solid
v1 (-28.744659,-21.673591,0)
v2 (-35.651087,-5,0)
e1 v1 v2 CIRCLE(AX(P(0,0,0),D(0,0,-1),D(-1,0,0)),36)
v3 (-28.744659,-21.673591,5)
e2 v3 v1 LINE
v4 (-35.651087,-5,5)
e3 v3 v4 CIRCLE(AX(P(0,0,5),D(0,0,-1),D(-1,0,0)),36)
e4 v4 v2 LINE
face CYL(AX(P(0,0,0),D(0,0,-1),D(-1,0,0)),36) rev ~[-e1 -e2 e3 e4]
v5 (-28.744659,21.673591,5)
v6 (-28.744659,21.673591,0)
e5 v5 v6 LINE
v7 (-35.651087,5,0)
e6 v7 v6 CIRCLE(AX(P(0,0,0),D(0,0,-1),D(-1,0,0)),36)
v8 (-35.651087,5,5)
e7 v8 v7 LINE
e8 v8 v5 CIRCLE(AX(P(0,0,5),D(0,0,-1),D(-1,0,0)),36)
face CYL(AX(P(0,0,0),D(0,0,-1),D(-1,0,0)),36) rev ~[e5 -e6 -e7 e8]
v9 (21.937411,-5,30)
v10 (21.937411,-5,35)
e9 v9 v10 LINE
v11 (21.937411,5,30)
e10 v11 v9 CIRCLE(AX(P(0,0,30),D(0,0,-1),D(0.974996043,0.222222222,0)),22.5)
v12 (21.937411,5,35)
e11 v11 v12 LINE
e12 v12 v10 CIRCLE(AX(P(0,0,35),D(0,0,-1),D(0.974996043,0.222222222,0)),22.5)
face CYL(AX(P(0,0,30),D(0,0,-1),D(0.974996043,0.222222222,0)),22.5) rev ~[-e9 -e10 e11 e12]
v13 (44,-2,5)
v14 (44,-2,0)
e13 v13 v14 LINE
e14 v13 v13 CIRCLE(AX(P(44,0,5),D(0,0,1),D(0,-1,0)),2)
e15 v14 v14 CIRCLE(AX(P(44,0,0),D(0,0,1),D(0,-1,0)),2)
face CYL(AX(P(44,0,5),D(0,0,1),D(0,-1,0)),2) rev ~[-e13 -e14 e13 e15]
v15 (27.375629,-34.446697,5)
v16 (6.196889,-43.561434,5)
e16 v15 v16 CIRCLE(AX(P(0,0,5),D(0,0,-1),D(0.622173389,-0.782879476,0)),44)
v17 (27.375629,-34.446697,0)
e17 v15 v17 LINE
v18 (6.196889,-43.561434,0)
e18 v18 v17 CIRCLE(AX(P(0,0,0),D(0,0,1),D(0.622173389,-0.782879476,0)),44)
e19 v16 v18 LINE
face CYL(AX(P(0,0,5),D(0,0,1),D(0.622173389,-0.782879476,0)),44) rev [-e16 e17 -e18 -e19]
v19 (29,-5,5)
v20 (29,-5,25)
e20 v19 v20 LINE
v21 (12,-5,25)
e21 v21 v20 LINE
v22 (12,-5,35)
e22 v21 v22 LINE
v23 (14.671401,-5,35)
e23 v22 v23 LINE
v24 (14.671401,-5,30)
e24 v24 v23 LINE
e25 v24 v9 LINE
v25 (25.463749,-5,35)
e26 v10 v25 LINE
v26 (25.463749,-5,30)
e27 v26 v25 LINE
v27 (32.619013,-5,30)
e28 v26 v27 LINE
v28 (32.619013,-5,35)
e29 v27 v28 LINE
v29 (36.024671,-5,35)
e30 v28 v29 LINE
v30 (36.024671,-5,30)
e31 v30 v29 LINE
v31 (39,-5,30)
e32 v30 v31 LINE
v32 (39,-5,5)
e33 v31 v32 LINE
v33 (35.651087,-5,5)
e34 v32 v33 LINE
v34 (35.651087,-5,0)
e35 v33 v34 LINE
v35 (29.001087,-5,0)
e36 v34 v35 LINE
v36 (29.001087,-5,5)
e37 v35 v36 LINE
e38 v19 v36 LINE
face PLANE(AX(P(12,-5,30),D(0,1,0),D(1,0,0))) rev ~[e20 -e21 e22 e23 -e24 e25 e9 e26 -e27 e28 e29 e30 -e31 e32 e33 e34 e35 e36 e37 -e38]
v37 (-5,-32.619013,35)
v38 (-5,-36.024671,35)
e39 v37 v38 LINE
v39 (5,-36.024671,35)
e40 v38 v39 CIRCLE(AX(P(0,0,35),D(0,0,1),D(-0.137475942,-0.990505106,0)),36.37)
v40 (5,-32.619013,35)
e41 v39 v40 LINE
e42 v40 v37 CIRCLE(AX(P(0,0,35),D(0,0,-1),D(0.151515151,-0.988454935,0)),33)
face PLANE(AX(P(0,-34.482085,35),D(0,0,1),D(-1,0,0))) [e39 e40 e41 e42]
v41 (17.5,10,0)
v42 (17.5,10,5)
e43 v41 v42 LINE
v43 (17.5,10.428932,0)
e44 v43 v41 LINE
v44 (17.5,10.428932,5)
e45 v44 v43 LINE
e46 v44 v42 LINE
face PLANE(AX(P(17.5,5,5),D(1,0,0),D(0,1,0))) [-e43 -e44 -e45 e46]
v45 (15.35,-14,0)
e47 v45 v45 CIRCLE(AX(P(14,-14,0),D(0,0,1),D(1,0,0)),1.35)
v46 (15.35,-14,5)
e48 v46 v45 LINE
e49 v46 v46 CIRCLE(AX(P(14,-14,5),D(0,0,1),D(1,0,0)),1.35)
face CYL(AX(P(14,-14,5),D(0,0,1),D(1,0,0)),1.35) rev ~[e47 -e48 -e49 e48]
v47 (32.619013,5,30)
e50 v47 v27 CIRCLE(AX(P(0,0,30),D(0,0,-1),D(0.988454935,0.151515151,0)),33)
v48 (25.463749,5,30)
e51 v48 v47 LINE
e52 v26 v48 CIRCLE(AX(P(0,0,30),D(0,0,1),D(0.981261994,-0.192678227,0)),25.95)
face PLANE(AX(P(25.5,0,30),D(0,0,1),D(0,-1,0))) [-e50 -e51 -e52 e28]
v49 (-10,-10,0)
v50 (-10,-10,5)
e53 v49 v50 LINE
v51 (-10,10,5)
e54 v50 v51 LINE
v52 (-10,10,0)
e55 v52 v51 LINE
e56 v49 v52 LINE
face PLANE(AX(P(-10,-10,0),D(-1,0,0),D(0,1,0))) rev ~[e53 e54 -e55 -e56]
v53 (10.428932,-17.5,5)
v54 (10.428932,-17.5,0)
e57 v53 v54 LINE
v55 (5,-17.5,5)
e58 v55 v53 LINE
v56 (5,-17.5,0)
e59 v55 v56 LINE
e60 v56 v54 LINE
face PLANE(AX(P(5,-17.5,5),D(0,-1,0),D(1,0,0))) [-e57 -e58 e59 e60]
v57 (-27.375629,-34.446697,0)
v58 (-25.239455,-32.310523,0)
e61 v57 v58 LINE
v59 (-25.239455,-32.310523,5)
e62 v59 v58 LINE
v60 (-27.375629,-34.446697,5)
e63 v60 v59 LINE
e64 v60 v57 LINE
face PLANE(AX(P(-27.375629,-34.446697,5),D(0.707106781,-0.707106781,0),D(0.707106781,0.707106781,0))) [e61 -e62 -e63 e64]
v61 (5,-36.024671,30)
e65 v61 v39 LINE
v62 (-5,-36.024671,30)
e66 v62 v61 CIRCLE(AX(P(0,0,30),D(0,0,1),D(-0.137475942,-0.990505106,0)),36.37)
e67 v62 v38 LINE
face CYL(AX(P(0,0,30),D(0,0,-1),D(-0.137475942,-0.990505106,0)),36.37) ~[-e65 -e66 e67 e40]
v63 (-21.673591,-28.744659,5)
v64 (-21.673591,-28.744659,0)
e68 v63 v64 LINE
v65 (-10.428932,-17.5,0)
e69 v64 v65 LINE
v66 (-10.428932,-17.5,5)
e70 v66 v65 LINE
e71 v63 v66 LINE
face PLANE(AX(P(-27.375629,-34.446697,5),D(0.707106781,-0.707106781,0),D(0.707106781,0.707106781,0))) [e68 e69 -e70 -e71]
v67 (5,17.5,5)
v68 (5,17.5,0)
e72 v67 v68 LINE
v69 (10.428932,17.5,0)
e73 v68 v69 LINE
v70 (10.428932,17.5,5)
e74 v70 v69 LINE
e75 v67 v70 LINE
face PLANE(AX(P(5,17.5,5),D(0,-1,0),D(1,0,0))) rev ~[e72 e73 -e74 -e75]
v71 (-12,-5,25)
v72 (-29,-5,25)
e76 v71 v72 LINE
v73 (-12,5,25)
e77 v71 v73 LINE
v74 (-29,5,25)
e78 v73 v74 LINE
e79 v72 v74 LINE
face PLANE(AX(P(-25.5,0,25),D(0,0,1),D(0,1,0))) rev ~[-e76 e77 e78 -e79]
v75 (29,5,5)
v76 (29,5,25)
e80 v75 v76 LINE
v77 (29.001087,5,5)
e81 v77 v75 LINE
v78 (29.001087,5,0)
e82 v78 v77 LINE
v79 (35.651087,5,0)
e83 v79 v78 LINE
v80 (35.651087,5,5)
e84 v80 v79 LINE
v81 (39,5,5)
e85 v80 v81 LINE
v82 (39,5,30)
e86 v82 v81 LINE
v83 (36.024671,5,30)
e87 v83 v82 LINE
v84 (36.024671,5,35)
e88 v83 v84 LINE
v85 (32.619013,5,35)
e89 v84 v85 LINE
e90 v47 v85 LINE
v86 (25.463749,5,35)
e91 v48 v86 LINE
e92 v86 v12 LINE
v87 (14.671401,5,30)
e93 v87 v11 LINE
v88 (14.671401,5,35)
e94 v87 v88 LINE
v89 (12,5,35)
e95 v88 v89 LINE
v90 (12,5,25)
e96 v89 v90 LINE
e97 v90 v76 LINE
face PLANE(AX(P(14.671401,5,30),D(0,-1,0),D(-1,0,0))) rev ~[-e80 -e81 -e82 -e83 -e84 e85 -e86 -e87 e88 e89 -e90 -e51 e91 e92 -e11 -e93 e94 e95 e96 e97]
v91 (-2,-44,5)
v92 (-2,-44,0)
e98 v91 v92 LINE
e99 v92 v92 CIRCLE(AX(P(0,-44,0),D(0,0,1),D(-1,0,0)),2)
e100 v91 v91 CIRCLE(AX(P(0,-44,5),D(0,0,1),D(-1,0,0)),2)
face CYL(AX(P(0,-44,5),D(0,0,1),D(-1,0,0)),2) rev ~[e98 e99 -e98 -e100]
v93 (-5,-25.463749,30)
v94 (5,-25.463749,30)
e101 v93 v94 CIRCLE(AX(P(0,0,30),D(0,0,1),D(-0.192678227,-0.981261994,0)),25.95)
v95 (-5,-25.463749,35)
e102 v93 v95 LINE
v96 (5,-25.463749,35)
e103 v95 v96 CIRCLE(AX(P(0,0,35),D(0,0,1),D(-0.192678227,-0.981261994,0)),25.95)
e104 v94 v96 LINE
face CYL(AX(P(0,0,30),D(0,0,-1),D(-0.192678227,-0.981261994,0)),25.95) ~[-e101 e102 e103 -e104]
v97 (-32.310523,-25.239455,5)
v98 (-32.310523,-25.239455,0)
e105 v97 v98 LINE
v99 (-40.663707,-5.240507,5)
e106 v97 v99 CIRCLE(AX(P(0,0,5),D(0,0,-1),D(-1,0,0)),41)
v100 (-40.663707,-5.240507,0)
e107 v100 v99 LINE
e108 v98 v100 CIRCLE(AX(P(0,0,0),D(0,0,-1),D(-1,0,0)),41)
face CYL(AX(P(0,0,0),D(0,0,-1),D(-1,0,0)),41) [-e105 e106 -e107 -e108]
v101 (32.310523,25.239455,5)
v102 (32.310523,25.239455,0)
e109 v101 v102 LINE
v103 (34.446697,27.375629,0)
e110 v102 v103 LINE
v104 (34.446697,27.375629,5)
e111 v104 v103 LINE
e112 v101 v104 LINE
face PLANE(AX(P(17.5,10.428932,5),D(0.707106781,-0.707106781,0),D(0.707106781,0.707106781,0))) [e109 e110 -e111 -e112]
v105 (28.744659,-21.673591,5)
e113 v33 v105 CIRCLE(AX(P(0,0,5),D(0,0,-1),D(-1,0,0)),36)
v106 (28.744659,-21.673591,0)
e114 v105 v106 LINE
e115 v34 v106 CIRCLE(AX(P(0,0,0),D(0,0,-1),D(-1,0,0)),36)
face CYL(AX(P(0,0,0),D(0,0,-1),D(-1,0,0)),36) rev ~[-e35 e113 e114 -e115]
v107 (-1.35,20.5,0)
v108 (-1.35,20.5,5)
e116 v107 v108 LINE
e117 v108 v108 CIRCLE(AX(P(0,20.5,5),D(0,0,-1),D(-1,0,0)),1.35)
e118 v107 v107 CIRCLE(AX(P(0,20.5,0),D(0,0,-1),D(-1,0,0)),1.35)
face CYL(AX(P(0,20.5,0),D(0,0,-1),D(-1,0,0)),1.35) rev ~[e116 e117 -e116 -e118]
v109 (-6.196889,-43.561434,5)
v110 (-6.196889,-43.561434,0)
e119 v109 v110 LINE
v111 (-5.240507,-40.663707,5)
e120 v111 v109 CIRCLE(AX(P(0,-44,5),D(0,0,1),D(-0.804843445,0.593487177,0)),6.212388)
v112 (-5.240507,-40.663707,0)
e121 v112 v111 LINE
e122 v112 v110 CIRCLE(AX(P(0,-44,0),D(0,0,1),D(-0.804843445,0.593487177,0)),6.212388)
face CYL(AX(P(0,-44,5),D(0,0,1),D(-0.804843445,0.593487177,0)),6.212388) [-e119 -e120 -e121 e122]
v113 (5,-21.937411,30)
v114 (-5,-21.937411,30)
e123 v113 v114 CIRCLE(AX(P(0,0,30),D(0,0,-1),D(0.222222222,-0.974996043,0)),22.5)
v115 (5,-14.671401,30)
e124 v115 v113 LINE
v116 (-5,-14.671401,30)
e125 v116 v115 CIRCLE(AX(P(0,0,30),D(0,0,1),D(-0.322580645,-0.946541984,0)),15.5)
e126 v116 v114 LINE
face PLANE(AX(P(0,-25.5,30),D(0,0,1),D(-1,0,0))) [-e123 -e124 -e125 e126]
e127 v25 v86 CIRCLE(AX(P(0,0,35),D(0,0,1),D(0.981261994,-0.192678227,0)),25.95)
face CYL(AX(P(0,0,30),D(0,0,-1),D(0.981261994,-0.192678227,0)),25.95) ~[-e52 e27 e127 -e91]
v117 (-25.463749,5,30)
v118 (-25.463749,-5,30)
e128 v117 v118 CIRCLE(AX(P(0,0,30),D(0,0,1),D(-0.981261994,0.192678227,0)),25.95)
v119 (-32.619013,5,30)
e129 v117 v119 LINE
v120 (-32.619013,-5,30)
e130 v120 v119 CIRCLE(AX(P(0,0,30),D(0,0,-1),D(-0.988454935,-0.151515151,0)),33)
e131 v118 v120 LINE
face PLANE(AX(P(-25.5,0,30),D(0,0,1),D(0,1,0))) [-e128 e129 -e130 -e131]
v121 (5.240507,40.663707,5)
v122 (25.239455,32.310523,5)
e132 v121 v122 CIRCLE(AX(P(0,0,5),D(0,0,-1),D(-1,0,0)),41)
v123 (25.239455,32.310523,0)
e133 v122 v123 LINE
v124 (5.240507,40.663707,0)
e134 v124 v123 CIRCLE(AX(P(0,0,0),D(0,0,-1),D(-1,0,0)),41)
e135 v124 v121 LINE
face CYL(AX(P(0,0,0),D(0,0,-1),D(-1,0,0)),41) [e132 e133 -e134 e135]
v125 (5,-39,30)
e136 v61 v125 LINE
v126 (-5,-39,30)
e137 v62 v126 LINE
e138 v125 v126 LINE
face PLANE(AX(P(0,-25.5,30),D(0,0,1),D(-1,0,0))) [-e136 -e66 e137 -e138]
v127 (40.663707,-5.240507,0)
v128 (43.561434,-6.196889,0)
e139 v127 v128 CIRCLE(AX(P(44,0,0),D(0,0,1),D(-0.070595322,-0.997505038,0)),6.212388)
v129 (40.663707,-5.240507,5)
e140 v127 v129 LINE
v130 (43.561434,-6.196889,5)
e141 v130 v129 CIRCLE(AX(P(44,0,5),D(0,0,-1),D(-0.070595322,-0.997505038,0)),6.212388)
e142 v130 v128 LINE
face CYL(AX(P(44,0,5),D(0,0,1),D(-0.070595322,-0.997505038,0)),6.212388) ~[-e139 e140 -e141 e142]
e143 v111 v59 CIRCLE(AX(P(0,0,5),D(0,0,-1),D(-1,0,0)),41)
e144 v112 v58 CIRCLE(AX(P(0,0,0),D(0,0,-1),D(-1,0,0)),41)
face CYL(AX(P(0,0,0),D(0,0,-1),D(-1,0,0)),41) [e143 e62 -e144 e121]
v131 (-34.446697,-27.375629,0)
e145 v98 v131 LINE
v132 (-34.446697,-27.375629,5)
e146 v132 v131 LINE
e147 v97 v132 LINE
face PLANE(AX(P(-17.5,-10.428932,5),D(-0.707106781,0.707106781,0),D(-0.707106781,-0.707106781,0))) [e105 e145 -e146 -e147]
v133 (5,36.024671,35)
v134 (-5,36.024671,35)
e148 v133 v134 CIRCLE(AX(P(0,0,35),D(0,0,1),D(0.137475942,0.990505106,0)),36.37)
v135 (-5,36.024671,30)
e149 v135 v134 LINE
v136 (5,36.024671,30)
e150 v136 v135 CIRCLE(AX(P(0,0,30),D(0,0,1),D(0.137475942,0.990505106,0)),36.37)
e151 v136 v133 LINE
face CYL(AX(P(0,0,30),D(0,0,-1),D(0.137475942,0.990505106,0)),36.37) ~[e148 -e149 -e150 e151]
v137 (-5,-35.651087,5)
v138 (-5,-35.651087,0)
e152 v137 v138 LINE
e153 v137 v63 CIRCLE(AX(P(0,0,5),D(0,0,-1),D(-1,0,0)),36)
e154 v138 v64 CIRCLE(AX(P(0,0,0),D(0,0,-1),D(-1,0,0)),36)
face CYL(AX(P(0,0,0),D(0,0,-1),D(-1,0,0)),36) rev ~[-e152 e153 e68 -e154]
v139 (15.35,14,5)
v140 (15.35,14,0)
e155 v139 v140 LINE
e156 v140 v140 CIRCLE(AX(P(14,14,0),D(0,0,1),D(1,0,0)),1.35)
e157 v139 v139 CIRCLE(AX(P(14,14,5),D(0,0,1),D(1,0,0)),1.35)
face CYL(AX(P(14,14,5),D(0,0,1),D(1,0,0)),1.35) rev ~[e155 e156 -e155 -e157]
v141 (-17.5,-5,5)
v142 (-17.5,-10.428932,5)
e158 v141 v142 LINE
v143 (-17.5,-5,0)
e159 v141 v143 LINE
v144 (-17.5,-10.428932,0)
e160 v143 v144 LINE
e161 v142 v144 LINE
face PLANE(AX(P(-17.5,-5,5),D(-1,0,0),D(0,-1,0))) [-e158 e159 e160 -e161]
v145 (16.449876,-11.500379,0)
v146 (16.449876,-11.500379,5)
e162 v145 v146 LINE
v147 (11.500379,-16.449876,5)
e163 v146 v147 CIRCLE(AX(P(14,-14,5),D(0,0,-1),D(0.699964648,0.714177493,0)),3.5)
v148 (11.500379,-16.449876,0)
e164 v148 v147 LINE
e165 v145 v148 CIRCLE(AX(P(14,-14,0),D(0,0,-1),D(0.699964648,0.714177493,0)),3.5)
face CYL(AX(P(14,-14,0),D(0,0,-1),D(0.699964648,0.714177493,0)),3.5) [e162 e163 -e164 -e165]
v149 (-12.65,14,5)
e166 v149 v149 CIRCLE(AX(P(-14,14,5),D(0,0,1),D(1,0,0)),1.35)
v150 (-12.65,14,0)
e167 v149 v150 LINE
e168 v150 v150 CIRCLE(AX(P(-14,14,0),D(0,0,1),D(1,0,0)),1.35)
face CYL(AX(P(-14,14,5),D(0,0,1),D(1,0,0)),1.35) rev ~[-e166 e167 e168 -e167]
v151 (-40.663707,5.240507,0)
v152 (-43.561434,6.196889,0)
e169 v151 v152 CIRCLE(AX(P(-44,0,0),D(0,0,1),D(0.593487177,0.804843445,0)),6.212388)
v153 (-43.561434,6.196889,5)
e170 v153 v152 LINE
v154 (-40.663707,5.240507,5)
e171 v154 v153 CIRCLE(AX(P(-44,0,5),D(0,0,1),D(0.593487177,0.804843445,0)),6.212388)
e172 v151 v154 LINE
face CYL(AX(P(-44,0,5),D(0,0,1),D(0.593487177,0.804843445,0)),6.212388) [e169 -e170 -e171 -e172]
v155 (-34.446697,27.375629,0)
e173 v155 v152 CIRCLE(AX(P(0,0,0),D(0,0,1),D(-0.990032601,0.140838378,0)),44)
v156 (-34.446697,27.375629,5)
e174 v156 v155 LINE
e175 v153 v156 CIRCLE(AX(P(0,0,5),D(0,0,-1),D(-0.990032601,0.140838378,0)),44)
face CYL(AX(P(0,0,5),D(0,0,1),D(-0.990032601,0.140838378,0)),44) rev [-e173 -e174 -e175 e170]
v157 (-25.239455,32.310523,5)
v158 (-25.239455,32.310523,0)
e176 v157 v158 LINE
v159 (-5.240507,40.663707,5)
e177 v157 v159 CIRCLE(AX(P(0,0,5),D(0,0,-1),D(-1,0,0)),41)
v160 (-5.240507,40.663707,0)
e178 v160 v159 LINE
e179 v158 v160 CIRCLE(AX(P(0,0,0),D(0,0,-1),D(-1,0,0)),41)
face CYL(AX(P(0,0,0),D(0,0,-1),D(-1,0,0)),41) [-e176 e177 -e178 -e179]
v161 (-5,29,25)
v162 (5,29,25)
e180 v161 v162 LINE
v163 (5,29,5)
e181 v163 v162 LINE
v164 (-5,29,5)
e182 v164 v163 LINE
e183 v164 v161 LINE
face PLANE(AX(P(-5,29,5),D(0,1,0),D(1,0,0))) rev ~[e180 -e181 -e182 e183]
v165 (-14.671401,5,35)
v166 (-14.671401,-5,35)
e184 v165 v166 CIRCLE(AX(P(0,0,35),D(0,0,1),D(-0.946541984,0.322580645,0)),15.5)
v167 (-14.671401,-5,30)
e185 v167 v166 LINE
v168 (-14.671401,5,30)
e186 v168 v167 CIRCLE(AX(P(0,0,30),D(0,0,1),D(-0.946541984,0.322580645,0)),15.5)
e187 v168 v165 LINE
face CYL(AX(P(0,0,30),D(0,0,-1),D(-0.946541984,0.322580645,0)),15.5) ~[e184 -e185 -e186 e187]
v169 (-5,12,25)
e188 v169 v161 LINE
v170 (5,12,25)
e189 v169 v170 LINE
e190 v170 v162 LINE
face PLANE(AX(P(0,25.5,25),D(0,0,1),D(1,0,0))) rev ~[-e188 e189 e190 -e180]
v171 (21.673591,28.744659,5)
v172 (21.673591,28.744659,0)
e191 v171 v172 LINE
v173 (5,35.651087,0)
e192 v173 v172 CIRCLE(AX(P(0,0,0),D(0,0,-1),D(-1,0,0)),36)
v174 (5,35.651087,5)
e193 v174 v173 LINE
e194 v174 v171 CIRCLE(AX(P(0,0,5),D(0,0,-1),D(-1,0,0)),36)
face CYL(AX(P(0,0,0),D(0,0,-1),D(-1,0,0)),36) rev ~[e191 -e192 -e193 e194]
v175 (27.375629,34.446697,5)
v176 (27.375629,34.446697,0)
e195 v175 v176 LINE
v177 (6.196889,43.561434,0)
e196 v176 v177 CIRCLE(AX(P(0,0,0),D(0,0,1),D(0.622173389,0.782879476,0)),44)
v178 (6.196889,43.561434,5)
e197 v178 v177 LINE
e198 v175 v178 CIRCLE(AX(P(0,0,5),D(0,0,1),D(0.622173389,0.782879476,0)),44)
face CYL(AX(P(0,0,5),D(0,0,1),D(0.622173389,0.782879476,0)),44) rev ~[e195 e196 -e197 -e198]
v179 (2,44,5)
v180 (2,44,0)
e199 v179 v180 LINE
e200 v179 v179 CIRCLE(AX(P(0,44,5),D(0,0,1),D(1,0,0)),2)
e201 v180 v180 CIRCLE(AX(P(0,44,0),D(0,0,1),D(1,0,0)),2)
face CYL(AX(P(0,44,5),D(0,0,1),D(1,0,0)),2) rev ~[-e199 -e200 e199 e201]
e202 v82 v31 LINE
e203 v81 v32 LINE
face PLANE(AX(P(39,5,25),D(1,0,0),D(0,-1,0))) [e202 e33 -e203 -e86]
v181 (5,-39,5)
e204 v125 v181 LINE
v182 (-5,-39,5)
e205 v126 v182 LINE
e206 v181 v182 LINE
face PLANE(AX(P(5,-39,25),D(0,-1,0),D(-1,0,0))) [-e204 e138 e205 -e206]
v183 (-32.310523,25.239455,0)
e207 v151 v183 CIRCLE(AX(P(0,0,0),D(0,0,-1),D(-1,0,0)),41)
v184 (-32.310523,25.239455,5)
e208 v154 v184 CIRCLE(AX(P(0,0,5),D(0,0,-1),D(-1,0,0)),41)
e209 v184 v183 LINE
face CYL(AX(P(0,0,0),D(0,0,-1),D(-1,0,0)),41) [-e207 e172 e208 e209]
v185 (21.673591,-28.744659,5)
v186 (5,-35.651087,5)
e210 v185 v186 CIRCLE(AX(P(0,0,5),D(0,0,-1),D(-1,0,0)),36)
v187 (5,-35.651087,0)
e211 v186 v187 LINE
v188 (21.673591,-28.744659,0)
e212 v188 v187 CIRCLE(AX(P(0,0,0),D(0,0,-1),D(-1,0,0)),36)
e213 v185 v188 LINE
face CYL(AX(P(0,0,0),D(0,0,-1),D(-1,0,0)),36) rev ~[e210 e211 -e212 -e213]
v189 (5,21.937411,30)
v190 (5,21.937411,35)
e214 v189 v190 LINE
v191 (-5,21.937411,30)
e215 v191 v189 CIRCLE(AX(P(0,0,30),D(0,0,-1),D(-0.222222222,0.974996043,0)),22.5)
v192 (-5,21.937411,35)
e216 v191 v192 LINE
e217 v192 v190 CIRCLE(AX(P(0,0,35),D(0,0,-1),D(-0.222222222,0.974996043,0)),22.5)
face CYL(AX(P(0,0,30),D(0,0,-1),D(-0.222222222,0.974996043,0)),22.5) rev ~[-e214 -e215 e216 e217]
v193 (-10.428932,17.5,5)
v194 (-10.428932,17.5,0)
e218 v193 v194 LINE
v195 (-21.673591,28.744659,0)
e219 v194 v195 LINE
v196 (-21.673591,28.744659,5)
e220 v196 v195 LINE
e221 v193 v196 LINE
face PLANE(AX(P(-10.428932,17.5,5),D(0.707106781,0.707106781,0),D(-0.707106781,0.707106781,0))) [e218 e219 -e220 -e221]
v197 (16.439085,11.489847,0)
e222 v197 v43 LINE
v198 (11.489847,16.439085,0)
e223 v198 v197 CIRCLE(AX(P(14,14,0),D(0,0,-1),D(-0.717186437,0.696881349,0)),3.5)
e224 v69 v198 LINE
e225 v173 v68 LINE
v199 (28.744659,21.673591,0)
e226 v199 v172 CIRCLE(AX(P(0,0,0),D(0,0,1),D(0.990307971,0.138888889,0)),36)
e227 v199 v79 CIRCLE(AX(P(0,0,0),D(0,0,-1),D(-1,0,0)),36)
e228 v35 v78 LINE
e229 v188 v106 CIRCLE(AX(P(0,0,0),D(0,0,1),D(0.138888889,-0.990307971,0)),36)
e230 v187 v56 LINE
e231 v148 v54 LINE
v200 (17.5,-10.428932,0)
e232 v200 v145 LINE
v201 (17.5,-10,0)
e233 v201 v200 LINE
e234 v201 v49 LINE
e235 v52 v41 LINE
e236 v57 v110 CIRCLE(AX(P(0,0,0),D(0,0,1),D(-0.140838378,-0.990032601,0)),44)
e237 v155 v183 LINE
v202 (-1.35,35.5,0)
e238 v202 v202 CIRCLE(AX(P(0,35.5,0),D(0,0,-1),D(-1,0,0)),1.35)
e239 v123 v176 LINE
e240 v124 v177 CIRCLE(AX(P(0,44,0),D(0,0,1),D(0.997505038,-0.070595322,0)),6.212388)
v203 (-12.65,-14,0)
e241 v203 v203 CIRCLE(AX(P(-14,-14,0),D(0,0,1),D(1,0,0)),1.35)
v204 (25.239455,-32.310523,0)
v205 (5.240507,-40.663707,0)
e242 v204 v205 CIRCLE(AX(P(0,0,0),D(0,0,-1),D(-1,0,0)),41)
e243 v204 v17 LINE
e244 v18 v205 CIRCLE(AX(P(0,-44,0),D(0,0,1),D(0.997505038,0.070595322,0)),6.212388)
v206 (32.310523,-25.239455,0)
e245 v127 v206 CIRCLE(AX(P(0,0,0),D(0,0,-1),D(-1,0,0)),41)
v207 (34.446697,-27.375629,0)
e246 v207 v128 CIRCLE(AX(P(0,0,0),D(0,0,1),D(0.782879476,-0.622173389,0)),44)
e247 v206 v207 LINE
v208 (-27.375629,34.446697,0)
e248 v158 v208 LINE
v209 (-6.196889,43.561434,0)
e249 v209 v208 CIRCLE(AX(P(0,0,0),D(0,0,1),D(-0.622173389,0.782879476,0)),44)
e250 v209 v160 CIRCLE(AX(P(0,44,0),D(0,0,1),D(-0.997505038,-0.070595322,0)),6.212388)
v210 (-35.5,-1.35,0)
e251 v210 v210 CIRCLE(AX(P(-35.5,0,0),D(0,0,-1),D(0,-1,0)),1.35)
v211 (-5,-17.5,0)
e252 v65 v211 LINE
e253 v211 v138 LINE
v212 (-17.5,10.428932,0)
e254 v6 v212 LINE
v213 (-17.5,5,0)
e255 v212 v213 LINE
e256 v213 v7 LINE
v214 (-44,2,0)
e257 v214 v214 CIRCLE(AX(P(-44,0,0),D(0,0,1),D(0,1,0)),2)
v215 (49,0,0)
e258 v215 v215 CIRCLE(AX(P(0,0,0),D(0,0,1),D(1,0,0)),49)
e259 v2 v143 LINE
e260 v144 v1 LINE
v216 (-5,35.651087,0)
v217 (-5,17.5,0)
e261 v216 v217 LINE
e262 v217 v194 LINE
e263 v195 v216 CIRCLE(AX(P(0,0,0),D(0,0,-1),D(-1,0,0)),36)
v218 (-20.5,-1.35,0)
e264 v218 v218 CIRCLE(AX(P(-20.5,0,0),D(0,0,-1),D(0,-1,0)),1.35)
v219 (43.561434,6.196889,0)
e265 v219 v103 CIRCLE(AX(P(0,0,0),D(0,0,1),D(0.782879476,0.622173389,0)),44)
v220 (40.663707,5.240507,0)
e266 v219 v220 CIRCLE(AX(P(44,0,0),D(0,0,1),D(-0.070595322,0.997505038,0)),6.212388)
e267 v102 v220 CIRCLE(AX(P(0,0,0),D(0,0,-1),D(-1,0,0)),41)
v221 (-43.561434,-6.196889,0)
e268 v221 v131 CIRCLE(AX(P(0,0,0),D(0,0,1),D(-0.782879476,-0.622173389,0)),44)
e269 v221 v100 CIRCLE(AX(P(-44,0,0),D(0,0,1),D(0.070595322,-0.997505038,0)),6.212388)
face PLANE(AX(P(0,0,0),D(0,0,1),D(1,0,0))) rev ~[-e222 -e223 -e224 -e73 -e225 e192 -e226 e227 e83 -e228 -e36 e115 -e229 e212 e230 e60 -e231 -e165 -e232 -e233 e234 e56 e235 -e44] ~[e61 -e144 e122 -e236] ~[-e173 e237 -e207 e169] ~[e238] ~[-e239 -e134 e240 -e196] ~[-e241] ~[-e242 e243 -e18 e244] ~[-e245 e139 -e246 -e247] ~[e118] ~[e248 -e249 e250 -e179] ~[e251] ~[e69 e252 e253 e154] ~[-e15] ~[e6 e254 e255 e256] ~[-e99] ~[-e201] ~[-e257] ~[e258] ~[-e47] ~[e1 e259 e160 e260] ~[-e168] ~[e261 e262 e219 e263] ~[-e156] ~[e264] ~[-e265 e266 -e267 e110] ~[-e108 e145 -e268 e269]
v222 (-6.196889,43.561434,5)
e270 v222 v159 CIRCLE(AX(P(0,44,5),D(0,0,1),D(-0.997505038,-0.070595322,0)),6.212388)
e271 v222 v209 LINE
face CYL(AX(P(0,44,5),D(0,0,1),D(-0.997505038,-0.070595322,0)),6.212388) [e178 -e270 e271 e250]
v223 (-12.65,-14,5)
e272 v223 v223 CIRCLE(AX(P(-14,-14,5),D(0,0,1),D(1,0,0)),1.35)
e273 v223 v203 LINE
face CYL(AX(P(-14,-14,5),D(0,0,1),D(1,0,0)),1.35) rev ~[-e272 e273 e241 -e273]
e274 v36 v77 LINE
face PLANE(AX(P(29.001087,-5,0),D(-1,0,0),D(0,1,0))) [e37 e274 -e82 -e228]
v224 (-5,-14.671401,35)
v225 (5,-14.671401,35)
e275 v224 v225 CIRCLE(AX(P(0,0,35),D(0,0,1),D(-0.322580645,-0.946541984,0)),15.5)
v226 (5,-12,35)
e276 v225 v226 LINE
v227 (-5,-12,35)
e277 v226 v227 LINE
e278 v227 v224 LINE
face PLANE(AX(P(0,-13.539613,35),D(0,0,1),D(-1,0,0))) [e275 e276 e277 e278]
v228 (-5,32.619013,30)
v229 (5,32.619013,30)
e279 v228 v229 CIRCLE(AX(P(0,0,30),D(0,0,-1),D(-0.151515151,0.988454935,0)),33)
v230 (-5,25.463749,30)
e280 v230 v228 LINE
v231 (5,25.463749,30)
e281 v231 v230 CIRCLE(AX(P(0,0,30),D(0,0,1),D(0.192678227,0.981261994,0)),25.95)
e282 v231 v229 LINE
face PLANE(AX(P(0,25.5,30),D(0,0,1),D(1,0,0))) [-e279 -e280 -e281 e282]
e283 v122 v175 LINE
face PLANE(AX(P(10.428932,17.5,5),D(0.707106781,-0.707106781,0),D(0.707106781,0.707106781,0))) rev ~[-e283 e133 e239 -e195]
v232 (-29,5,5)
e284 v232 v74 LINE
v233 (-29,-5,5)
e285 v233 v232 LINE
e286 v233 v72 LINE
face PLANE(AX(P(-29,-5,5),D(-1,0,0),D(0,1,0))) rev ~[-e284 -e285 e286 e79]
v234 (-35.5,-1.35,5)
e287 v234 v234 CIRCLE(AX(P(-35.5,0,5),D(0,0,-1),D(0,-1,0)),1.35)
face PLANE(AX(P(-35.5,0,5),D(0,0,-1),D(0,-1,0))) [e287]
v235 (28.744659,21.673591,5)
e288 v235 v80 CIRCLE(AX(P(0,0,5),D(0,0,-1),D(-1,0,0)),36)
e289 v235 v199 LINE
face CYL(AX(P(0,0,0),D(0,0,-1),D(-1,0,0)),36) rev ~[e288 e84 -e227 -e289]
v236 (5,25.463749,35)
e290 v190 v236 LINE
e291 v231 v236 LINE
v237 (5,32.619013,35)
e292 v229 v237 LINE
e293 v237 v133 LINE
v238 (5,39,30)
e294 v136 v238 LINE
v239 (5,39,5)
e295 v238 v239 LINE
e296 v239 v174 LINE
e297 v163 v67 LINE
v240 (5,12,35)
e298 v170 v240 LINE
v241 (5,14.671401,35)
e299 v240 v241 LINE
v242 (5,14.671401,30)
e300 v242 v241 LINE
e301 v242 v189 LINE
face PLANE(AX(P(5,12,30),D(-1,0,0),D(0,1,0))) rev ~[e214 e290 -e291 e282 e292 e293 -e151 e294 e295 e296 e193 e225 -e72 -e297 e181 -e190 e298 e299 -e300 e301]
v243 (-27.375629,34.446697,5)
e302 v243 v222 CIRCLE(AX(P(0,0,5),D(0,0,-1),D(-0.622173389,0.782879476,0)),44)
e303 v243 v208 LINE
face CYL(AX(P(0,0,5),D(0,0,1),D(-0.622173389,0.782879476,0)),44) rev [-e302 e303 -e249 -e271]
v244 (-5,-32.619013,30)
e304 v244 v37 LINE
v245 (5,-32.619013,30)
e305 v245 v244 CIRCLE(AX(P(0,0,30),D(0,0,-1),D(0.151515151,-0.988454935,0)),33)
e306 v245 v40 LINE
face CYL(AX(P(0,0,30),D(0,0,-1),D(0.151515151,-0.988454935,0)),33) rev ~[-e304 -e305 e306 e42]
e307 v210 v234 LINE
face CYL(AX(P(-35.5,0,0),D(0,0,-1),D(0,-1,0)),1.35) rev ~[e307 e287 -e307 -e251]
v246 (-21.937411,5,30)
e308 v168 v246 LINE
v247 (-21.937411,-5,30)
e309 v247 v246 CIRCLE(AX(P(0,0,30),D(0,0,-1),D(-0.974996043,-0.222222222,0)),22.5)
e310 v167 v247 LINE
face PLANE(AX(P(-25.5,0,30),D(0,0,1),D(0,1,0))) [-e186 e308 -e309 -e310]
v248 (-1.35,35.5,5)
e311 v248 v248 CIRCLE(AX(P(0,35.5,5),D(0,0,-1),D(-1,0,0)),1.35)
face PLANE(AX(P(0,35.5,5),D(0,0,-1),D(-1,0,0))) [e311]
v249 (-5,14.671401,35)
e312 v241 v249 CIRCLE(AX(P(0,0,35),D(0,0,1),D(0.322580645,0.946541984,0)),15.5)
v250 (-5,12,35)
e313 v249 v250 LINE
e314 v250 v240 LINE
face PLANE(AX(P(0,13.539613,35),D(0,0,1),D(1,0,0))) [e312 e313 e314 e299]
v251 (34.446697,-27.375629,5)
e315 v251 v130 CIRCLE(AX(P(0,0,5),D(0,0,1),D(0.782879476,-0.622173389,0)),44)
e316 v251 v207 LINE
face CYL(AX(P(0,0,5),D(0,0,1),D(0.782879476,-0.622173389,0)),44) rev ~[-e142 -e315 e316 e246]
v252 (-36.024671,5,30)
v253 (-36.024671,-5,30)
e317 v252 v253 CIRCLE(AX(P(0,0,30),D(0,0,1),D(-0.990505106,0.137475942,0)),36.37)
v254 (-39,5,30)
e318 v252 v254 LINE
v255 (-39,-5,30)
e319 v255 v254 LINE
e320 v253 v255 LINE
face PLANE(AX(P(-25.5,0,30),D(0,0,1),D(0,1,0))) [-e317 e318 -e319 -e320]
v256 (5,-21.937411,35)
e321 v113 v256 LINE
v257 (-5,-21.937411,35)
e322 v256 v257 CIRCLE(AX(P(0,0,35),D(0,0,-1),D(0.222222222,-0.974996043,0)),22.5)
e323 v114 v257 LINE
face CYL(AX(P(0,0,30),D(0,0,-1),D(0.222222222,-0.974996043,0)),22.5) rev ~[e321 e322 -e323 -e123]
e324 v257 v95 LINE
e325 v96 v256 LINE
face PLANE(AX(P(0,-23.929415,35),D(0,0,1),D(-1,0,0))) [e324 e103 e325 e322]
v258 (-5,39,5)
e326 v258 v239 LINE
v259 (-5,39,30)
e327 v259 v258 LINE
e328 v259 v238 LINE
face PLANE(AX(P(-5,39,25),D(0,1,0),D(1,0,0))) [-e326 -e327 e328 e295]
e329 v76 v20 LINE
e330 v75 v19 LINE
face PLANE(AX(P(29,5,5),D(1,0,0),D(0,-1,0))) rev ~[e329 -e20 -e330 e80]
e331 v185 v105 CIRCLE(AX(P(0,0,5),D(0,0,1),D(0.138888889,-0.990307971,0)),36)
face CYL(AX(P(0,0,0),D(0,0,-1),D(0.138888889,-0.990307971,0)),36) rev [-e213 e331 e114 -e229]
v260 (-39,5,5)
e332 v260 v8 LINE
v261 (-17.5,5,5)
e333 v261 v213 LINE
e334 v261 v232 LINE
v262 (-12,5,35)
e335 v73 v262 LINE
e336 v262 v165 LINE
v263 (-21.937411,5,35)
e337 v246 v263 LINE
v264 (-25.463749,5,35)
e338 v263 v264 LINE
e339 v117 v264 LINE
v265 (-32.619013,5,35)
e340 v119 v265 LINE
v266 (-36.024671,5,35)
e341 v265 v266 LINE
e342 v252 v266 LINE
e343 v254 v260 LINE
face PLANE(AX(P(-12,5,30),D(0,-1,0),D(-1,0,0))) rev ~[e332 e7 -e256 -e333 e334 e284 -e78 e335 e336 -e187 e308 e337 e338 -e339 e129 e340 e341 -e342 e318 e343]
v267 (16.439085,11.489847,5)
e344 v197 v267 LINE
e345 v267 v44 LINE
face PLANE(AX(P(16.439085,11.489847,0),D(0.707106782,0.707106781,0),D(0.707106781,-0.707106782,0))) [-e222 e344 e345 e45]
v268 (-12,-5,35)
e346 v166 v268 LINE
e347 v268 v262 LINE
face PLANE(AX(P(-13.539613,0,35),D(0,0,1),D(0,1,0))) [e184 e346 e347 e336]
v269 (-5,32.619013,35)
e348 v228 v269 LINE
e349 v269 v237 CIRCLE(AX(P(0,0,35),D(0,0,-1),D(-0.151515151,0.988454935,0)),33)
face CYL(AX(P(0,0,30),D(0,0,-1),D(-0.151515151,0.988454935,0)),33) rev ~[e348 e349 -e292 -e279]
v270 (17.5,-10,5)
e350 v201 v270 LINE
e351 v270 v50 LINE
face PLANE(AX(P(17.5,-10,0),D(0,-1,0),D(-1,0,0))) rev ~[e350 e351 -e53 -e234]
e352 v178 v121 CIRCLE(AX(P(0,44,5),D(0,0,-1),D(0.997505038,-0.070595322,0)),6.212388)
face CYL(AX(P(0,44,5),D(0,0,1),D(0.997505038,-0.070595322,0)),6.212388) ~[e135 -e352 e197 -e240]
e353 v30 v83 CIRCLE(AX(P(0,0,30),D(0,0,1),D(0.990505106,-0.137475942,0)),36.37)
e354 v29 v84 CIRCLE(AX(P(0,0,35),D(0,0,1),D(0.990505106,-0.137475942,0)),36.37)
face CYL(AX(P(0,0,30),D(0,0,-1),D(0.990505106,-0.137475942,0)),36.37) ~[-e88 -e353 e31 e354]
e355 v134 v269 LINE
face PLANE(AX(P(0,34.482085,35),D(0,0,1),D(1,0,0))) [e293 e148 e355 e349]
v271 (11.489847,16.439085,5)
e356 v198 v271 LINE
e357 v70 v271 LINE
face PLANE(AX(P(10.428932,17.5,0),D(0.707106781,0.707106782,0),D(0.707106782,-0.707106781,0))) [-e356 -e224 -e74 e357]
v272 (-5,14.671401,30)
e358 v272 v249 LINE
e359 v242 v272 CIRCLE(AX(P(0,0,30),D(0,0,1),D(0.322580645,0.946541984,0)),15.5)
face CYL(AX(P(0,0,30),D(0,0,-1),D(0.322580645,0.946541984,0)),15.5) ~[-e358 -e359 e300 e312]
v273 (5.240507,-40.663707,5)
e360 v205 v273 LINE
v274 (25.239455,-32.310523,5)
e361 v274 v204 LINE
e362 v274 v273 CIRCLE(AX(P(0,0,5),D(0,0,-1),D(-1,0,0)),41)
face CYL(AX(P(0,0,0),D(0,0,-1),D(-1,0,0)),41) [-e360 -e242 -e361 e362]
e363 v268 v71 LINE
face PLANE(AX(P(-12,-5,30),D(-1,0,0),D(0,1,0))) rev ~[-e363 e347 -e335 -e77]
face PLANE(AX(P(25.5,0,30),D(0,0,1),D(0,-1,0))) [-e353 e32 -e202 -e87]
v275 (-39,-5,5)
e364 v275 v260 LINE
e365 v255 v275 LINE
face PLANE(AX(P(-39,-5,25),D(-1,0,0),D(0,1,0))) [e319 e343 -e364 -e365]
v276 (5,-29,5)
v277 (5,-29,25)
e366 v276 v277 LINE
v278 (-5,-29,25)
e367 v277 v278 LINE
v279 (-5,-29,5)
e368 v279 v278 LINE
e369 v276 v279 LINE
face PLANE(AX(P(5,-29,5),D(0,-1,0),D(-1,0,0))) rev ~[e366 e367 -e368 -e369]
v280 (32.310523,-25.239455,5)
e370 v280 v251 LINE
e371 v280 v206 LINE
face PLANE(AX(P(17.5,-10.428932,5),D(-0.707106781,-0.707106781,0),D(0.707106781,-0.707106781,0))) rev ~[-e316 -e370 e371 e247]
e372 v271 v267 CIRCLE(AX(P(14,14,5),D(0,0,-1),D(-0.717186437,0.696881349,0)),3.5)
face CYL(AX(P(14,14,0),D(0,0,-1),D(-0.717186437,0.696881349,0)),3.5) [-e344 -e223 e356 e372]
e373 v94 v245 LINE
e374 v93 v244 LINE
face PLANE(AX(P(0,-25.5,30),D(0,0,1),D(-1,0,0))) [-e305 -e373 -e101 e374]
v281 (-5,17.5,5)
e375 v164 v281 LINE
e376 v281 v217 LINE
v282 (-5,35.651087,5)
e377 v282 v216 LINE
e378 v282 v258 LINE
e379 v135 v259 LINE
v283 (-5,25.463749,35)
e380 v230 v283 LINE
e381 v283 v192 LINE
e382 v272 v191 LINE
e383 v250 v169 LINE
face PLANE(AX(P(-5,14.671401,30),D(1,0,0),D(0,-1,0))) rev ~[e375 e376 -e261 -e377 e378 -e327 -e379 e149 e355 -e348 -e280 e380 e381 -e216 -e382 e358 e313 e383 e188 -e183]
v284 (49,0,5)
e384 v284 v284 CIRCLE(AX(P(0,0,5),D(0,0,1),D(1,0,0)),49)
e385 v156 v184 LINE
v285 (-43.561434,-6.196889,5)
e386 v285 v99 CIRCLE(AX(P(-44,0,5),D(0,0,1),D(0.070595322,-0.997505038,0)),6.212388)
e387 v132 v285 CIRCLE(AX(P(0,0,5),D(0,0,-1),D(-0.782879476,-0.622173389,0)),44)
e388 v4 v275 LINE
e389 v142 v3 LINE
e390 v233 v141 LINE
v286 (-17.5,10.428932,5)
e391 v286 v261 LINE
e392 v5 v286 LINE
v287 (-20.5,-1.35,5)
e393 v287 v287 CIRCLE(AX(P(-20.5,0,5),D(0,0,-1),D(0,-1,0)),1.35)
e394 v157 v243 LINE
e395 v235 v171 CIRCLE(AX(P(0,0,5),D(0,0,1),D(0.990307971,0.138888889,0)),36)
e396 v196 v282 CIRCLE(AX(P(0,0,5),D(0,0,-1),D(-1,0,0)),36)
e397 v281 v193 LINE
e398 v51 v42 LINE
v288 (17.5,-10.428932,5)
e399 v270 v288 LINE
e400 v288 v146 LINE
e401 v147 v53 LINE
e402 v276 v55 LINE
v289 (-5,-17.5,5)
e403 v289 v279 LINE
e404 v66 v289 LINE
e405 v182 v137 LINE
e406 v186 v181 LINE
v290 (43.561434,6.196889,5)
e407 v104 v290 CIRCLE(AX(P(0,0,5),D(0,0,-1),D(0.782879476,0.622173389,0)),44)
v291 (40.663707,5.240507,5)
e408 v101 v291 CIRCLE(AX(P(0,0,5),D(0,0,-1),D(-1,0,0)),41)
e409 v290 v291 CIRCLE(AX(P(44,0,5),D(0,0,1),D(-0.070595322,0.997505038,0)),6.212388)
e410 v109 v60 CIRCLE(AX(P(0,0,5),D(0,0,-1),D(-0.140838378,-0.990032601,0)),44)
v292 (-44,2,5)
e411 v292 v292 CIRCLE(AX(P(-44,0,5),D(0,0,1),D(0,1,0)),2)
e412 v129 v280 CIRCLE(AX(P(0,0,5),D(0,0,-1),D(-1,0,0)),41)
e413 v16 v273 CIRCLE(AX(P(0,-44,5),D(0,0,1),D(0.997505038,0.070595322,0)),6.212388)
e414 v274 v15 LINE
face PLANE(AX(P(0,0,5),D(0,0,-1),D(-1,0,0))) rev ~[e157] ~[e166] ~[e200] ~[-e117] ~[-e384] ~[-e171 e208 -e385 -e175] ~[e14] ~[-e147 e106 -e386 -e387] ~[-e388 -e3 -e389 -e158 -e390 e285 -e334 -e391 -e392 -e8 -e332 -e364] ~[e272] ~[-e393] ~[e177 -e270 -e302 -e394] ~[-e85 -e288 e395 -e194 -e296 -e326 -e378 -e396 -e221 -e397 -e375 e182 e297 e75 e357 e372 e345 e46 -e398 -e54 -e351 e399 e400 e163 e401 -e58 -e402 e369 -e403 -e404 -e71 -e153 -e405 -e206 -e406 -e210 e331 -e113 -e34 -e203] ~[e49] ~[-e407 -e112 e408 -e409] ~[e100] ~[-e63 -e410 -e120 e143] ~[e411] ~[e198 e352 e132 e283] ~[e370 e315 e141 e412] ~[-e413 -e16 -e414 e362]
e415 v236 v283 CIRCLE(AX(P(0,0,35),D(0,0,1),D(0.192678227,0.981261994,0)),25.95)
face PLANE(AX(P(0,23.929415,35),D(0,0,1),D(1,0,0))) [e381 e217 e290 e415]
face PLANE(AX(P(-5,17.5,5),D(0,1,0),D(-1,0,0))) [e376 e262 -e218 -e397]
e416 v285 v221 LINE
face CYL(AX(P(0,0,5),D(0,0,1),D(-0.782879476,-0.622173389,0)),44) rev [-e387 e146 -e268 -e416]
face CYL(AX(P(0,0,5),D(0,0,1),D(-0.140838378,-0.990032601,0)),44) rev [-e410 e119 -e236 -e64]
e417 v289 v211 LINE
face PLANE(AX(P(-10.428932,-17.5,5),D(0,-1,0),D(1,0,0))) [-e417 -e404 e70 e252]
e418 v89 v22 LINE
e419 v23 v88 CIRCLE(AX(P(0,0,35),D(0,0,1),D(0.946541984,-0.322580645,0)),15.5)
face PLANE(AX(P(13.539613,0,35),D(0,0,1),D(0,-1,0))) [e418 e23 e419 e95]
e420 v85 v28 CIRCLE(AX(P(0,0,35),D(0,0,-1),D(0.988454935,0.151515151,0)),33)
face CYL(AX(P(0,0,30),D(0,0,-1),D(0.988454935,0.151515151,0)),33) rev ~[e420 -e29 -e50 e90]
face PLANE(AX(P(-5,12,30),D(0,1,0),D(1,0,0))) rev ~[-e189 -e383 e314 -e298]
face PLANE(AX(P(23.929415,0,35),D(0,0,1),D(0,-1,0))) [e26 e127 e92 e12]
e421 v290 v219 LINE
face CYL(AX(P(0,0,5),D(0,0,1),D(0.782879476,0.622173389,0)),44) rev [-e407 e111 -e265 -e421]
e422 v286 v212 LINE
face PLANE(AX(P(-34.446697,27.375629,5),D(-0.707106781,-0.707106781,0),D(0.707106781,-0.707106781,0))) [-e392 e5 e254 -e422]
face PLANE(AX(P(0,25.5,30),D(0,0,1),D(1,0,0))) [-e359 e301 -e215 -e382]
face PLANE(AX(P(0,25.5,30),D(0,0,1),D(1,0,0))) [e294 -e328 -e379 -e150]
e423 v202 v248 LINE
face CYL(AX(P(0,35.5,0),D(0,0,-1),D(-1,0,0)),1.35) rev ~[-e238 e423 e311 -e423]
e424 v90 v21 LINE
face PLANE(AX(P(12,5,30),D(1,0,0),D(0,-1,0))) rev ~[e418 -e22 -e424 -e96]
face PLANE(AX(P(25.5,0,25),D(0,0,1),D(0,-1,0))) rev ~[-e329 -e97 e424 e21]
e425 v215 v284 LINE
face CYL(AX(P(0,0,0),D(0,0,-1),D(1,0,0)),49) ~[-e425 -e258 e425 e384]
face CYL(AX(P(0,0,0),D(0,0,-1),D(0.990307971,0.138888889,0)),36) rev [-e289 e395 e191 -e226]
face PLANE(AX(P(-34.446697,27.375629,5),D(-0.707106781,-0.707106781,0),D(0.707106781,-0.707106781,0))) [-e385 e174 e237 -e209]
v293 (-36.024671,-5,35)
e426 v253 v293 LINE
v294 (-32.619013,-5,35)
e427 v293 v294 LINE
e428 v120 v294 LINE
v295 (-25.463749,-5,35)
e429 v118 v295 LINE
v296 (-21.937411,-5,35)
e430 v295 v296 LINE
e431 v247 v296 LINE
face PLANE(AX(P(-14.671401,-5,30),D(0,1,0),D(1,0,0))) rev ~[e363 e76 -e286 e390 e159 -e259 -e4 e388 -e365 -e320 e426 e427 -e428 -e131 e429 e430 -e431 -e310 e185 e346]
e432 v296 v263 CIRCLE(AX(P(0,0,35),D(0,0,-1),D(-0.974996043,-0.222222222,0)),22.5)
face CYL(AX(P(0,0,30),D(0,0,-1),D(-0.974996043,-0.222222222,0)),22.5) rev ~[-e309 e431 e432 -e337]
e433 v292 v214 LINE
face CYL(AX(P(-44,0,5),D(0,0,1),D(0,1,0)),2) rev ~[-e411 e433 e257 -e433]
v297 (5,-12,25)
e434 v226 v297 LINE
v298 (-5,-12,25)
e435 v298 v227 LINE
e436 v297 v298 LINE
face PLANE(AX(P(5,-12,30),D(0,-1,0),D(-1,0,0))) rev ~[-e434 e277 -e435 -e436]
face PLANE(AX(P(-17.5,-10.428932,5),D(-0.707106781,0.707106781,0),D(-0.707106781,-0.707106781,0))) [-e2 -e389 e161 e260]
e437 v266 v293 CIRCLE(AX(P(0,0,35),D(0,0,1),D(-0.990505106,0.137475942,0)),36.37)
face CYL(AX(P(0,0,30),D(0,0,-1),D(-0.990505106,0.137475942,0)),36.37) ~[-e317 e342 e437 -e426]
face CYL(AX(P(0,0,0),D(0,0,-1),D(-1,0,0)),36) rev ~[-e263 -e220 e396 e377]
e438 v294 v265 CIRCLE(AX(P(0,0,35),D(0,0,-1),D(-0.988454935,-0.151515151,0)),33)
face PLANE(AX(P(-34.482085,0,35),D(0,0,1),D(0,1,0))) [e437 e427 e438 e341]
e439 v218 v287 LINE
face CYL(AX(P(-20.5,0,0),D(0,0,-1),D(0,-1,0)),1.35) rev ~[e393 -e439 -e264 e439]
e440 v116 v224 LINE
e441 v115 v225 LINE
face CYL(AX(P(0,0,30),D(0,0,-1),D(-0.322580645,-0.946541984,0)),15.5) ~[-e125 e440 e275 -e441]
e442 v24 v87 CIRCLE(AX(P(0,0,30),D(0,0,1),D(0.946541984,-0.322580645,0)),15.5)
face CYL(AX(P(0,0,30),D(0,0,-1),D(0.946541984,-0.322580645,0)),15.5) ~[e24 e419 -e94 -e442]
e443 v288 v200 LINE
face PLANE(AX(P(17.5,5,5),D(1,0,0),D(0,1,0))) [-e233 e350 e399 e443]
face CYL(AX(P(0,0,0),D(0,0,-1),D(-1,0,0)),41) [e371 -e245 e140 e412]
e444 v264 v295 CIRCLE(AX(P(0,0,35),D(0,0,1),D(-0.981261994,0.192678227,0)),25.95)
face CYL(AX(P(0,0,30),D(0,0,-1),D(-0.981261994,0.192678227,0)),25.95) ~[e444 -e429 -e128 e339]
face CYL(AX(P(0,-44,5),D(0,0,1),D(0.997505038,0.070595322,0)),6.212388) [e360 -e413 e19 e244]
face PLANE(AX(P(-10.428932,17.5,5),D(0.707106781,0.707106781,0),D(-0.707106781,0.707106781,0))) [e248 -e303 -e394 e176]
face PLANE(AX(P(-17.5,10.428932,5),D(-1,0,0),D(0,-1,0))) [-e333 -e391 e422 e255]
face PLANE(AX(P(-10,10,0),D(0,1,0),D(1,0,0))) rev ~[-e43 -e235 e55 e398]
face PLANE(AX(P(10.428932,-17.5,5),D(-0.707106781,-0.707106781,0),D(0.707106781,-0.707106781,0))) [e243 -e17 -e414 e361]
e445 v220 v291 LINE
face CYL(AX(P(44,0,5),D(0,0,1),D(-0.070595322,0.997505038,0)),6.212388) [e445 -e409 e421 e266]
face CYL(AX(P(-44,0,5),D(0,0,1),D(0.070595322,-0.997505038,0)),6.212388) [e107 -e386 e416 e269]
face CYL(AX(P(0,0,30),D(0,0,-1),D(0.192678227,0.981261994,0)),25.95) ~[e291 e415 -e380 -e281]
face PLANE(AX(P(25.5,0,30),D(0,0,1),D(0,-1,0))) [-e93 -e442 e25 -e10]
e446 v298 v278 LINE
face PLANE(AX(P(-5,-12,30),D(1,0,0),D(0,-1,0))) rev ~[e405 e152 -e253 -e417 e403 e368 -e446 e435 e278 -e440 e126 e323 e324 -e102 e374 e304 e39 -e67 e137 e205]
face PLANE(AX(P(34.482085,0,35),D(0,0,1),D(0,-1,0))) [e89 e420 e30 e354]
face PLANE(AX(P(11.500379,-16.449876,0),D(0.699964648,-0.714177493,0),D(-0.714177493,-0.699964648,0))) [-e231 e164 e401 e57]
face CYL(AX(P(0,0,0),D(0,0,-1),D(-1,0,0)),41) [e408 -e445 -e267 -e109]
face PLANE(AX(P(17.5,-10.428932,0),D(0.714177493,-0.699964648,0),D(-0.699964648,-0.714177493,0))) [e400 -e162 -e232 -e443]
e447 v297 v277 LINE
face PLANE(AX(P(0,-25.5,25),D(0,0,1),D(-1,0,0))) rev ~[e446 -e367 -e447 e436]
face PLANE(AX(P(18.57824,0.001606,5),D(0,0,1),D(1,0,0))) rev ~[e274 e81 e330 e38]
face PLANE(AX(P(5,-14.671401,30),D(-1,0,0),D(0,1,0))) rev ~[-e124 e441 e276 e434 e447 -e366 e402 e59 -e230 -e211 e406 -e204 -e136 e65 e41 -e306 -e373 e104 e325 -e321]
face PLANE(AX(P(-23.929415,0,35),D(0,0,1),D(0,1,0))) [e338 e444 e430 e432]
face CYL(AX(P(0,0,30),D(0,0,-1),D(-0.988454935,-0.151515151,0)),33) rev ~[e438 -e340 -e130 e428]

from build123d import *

# Parameters (mm, degrees)
SKETCH1_R            = 49
BOSS_EXTRUDE1_DEPTH  = 5
CUT_EXTRUDE11_DEPTH  = 6
SKETCH24_R           = 1.35
CUT_EXTRUDE12_DEPTH  = 6
SKETCH25_R           = 2
CUT_EXTRUDE13_DEPTH  = 6
CIRPATTERN6_COUNT    = 4
SKETCH26_W           = 10
SKETCH26_H           = 10
BOSS_EXTRUDE23_DEPTH = 20
CIRPATTERN7_COUNT    = 4
SKETCH28_W           = 10
SKETCH28_H           = 27
BOSS_EXTRUDE25_DEPTH = 5
CIRPATTERN9_COUNT    = 4
BOSS_EXTRUDE26_DEPTH = 5
CIRPATTERN10_COUNT   = 4
SKETCH30_R           = 41
SKETCH30_R_2         = 36
BOSS_EXTRUDE27_DEPTH = 5
CUT_EXTRUDE14_DEPTH  = 5
SKETCH32_W           = 20
SKETCH32_H           = 20
SKETCH32_W_2         = 7.5
CUT_EXTRUDE15_DEPTH  = 5
SKETCH34_R           = 1.35
CUT_EXTRUDE16_DEPTH  = 5
CIRPATTERN11_COUNT   = 2
CIRPATTERN11_ANGLE   = 90


with BuildPart() as part:
    # Sketch1 → Boss-Extrude1 (new body)
    with BuildSketch(Plane.XY):
        Circle(SKETCH1_R)
    extrude(amount=BOSS_EXTRUDE1_DEPTH)

    # Sketch23 → Cut-Extrude11 (cut, through all)
    with BuildSketch(Plane.XY.offset(5)):
        with BuildLine():
            ThreePointArc((-40.313027208, 5), (-41.852174996, 5.829289504), (-43.56143445, 6.196888625))
            ThreePointArc((-43.56143445, 6.196888625), (-40.415985736, 17.393909768), (-34.446696938, 27.375629126))
            Line((-34.446696938, 27.375629126), (-17.5, 10.428932188))
            Line((-17.5, 10.428932188), (-17.5, 5))
            Line((-17.5, 5), (-40.313027208, 5))
        make_face()
        with BuildLine():
            ThreePointArc((-43.56143445, -6.196888625), (-41.852174996, -5.829289504), (-40.313027208, -5))
            Line((-40.313027208, -5), (-17.5, -5))
            Line((-17.5, -5), (-17.5, -10.428932188))
            Line((-17.5, -10.428932188), (-34.446696938, -27.375629126))
            ThreePointArc((-34.446696938, -27.375629126), (-40.415985736, -17.393909768), (-43.56143445, -6.196888625))
        make_face()
        with BuildLine():
            ThreePointArc((-5, -40.313027208), (-5.829289504, -41.852174996), (-6.196888625, -43.56143445))
            ThreePointArc((-6.196888625, -43.56143445), (-17.393909768, -40.415985736), (-27.375629126, -34.446696938))
            Line((-27.375629126, -34.446696938), (-10.428932188, -17.5))
            Line((-10.428932188, -17.5), (-5, -17.5))
            Line((-5, -17.5), (-5, -40.313027208))
        make_face()
        with BuildLine():
            ThreePointArc((6.196888625, -43.56143445), (5.829289504, -41.852174996), (5, -40.313027208))
            Line((5, -40.313027208), (5, -17.5))
            Line((5, -17.5), (10.428932188, -17.5))
            Line((10.428932188, -17.5), (27.375629126, -34.446696938))
            ThreePointArc((27.375629126, -34.446696938), (17.393909768, -40.415985736), (6.196888625, -43.56143445))
        make_face()
        with BuildLine():
            ThreePointArc((43.56143445, 6.196888625), (41.852174996, 5.829289504), (40.313027208, 5))
            Line((40.313027208, 5), (17.5, 5))
            Line((17.5, 5), (17.5, 10.428932188))
            Line((17.5, 10.428932188), (34.446696938, 27.375629126))
            ThreePointArc((34.446696938, 27.375629126), (40.415985736, 17.393909768), (43.56143445, 6.196888625))
        make_face()
        with BuildLine():
            Line((10.428932188, 17.5), (27.375629126, 34.446696938))
            ThreePointArc((27.375629126, 34.446696938), (17.393909768, 40.415985736), (6.196888625, 43.56143445))
            ThreePointArc((6.196888625, 43.56143445), (5.829289504, 41.852174996), (5, 40.313027208))
            Line((5, 40.313027208), (5, 17.5))
            Line((5, 17.5), (10.428932188, 17.5))
        make_face()
        with BuildLine():
            ThreePointArc((-6.196888625, 43.56143445), (-5.829289504, 41.852174996), (-5, 40.313027208))
            Line((-5, 40.313027208), (-5, 17.5))
            Line((-5, 17.5), (-10.428932188, 17.5))
            Line((-10.428932188, 17.5), (-27.375629126, 34.446696938))
            ThreePointArc((-27.375629126, 34.446696938), (-17.393909768, 40.415985736), (-6.196888625, 43.56143445))
        make_face()
        with BuildLine():
            Line((17.5, -10.428932188), (34.446696938, -27.375629126))
            ThreePointArc((34.446696938, -27.375629126), (40.415985736, -17.393909768), (43.56143445, -6.196888625))
            ThreePointArc((43.56143445, -6.196888625), (41.852174996, -5.829289504), (40.313027208, -5))
            Line((40.313027208, -5), (17.5, -5))
            Line((17.5, -5), (17.5, -10.428932188))
        make_face()
    extrude(amount=-CUT_EXTRUDE11_DEPTH, mode=Mode.SUBTRACT)

    # Sketch24 → Cut-Extrude12 (cut, through all)
    with BuildSketch(Plane.XY.offset(5)):
        with Locations((-14, 14)):
            Circle(SKETCH24_R)
        with Locations((14, 14)):
            Circle(SKETCH24_R)
        with Locations((14, -14)):
            Circle(SKETCH24_R)
        with Locations((-14, -14)):
            Circle(SKETCH24_R)
    extrude(amount=-CUT_EXTRUDE12_DEPTH, mode=Mode.SUBTRACT)

    # Sketch25 → Cut-Extrude13 (cut, through all)
    with BuildSketch(Plane.XY.offset(5)):
        with Locations((0, 44)):
            Circle(SKETCH25_R)
    cut_extrude13 = extrude(amount=-CUT_EXTRUDE13_DEPTH, mode=Mode.SUBTRACT)

    # CirPattern6: Cut-Extrude13 ×4 about axis
    cirpattern6_axis = Axis((0, 0, 0), (0, 0, 1))
    for i in range(1, CIRPATTERN6_COUNT):
        add(cut_extrude13.rotate(cirpattern6_axis, i * 360 / CIRPATTERN6_COUNT), mode=Mode.SUBTRACT)

    # Sketch26 → Boss-Extrude23 (add)
    with BuildSketch(Plane.XY.offset(5)):
        with Locations((0, 34)):
            Rectangle(SKETCH26_W, SKETCH26_H)
    boss_extrude23 = extrude(amount=BOSS_EXTRUDE23_DEPTH)

    # CirPattern7: Boss-Extrude23 ×4 about axis
    cirpattern7_axis = Axis((0, 0, 0), (0, 0, 1))
    for i in range(1, CIRPATTERN7_COUNT):
        add(boss_extrude23.rotate(cirpattern7_axis, i * 360 / CIRPATTERN7_COUNT))

    # Sketch28 → Boss-Extrude25 (add)
    with BuildSketch(Plane.XY.offset(25)):
        with Locations((0, 25.5)):
            Rectangle(SKETCH28_W, SKETCH28_H)
    boss_extrude25 = extrude(amount=BOSS_EXTRUDE25_DEPTH)

    # CirPattern9: Boss-Extrude25 ×4 about axis
    cirpattern9_axis = Axis((0, 0, 0), (0, 0, 1))
    for i in range(1, CIRPATTERN9_COUNT):
        add(boss_extrude25.rotate(cirpattern9_axis, i * 360 / CIRPATTERN9_COUNT))

    # Sketch29 → Boss-Extrude26 (add)
    with BuildSketch(Plane.XY.offset(30)):
        with BuildLine():
            ThreePointArc((-5, 32.619012861), (0, 33), (5, 32.619012861))
            Line((5, 32.619012861), (5, 36.024670713))
            ThreePointArc((5, 36.024670713), (0, 36.37), (-5, 36.024670713))
            Line((-5, 36.024670713), (-5, 32.619012861))
        make_face()
        with BuildLine():
            ThreePointArc((-5, 21.937410968), (0, 22.5), (5, 21.937410968))
            Line((5, 21.937410968), (5, 25.463748742))
            ThreePointArc((5, 25.463748742), (0, 25.95), (-5, 25.463748742))
            Line((-5, 25.463748742), (-5, 21.937410968))
        make_face()
        with BuildLine():
            Line((-5, 12), (5, 12))
            Line((5, 12), (5, 14.671400751))
            ThreePointArc((5, 14.671400751), (0, 15.5), (-5, 14.671400751))
            Line((-5, 14.671400751), (-5, 12))
        make_face()
    boss_extrude26 = extrude(amount=BOSS_EXTRUDE26_DEPTH)

    # CirPattern10: Boss-Extrude26 ×4 about axis
    cirpattern10_axis = Axis((0, 0, 0), (0, 0, 1))
    for i in range(1, CIRPATTERN10_COUNT):
        add(boss_extrude26.rotate(cirpattern10_axis, i * 360 / CIRPATTERN10_COUNT))

    # Sketch30 → Boss-Extrude27 (add)
    with BuildSketch(Plane(origin=(0, 0, 0), x_dir=(-1, 0, 0), z_dir=(0, 0, -1))):
        Circle(SKETCH30_R)
        Circle(SKETCH30_R_2, mode=Mode.SUBTRACT)
    extrude(amount=-BOSS_EXTRUDE27_DEPTH)

    # Sketch31 → Cut-Extrude14 (cut)
    with BuildSketch(Plane(origin=(0, 0, 0), x_dir=(-1, 0, 0), z_dir=(0, 0, -1))):
        with BuildLine():
            Line((-5, 35.65108694), (-5, 17.5))
            Line((-5, 17.5), (-10.428932188, 17.5))
            Line((-10.428932188, 17.5), (-11.489847469, 16.43908472))
            ThreePointArc((-11.489847469, 16.43908472), (-16.474873734, 16.474873734), (-16.43908472, 11.489847469))
            Line((-16.43908472, 11.489847469), (-17.5, 10.428932188))
            Line((-17.5, 10.428932188), (-17.5, -10.428932188))
            Line((-17.5, -10.428932188), (-16.449876269, -11.500378775))
            ThreePointArc((-16.449876269, -11.500378775), (-16.474873734, -16.474873734), (-11.500378775, -16.449876269))
            Line((-11.500378775, -16.449876269), (-10.428932188, -17.5))
            Line((-10.428932188, -17.5), (-5, -17.5))
            Line((-5, -17.5), (-5, -35.65108694))
            ThreePointArc((-5, -35.65108694), (-25.455844123, -25.455844123), (-35.65108694, -5))
            Line((-35.65108694, -5), (-29.00108694, -5))
            Line((-29.00108694, -5), (-29.00108694, 5))
            Line((-29.00108694, 5), (-35.65108694, 5))
            ThreePointArc((-35.65108694, 5), (-25.455844123, 25.455844123), (-5, 35.65108694))
        make_face()
    extrude(amount=-CUT_EXTRUDE14_DEPTH, mode=Mode.SUBTRACT)

    # Sketch32 → Cut-Extrude15 (cut)
    with BuildSketch(Plane(origin=(0, 0, 0), x_dir=(-1, 0, 0), z_dir=(0, 0, -1))):
        Rectangle(SKETCH32_W, SKETCH32_H)
        with Locations((-13.75, 0)):
            Rectangle(SKETCH32_W_2, SKETCH32_H)
    extrude(amount=-CUT_EXTRUDE15_DEPTH, mode=Mode.SUBTRACT)

    # Sketch34 → Cut-Extrude16 (cut)
    with BuildSketch(Plane(origin=(0, 0, 0), x_dir=(-1, 0, 0), z_dir=(0, 0, -1))):
        with Locations((0, 20.5)):
            Circle(SKETCH34_R)
        with Locations((0, 35.5)):
            Circle(SKETCH34_R)
    cut_extrude16 = extrude(amount=-CUT_EXTRUDE16_DEPTH, mode=Mode.SUBTRACT)

    # CirPattern11: Cut-Extrude16 ×2 about axis
    cirpattern11_axis = Axis((0, 0, 0), (0, 0, 1))
    for i in range(1, CIRPATTERN11_COUNT):
        add(cut_extrude16.rotate(cirpattern11_axis, i * CIRPATTERN11_ANGLE / (CIRPATTERN11_COUNT - 1)), mode=Mode.SUBTRACT)


solid = part.part
